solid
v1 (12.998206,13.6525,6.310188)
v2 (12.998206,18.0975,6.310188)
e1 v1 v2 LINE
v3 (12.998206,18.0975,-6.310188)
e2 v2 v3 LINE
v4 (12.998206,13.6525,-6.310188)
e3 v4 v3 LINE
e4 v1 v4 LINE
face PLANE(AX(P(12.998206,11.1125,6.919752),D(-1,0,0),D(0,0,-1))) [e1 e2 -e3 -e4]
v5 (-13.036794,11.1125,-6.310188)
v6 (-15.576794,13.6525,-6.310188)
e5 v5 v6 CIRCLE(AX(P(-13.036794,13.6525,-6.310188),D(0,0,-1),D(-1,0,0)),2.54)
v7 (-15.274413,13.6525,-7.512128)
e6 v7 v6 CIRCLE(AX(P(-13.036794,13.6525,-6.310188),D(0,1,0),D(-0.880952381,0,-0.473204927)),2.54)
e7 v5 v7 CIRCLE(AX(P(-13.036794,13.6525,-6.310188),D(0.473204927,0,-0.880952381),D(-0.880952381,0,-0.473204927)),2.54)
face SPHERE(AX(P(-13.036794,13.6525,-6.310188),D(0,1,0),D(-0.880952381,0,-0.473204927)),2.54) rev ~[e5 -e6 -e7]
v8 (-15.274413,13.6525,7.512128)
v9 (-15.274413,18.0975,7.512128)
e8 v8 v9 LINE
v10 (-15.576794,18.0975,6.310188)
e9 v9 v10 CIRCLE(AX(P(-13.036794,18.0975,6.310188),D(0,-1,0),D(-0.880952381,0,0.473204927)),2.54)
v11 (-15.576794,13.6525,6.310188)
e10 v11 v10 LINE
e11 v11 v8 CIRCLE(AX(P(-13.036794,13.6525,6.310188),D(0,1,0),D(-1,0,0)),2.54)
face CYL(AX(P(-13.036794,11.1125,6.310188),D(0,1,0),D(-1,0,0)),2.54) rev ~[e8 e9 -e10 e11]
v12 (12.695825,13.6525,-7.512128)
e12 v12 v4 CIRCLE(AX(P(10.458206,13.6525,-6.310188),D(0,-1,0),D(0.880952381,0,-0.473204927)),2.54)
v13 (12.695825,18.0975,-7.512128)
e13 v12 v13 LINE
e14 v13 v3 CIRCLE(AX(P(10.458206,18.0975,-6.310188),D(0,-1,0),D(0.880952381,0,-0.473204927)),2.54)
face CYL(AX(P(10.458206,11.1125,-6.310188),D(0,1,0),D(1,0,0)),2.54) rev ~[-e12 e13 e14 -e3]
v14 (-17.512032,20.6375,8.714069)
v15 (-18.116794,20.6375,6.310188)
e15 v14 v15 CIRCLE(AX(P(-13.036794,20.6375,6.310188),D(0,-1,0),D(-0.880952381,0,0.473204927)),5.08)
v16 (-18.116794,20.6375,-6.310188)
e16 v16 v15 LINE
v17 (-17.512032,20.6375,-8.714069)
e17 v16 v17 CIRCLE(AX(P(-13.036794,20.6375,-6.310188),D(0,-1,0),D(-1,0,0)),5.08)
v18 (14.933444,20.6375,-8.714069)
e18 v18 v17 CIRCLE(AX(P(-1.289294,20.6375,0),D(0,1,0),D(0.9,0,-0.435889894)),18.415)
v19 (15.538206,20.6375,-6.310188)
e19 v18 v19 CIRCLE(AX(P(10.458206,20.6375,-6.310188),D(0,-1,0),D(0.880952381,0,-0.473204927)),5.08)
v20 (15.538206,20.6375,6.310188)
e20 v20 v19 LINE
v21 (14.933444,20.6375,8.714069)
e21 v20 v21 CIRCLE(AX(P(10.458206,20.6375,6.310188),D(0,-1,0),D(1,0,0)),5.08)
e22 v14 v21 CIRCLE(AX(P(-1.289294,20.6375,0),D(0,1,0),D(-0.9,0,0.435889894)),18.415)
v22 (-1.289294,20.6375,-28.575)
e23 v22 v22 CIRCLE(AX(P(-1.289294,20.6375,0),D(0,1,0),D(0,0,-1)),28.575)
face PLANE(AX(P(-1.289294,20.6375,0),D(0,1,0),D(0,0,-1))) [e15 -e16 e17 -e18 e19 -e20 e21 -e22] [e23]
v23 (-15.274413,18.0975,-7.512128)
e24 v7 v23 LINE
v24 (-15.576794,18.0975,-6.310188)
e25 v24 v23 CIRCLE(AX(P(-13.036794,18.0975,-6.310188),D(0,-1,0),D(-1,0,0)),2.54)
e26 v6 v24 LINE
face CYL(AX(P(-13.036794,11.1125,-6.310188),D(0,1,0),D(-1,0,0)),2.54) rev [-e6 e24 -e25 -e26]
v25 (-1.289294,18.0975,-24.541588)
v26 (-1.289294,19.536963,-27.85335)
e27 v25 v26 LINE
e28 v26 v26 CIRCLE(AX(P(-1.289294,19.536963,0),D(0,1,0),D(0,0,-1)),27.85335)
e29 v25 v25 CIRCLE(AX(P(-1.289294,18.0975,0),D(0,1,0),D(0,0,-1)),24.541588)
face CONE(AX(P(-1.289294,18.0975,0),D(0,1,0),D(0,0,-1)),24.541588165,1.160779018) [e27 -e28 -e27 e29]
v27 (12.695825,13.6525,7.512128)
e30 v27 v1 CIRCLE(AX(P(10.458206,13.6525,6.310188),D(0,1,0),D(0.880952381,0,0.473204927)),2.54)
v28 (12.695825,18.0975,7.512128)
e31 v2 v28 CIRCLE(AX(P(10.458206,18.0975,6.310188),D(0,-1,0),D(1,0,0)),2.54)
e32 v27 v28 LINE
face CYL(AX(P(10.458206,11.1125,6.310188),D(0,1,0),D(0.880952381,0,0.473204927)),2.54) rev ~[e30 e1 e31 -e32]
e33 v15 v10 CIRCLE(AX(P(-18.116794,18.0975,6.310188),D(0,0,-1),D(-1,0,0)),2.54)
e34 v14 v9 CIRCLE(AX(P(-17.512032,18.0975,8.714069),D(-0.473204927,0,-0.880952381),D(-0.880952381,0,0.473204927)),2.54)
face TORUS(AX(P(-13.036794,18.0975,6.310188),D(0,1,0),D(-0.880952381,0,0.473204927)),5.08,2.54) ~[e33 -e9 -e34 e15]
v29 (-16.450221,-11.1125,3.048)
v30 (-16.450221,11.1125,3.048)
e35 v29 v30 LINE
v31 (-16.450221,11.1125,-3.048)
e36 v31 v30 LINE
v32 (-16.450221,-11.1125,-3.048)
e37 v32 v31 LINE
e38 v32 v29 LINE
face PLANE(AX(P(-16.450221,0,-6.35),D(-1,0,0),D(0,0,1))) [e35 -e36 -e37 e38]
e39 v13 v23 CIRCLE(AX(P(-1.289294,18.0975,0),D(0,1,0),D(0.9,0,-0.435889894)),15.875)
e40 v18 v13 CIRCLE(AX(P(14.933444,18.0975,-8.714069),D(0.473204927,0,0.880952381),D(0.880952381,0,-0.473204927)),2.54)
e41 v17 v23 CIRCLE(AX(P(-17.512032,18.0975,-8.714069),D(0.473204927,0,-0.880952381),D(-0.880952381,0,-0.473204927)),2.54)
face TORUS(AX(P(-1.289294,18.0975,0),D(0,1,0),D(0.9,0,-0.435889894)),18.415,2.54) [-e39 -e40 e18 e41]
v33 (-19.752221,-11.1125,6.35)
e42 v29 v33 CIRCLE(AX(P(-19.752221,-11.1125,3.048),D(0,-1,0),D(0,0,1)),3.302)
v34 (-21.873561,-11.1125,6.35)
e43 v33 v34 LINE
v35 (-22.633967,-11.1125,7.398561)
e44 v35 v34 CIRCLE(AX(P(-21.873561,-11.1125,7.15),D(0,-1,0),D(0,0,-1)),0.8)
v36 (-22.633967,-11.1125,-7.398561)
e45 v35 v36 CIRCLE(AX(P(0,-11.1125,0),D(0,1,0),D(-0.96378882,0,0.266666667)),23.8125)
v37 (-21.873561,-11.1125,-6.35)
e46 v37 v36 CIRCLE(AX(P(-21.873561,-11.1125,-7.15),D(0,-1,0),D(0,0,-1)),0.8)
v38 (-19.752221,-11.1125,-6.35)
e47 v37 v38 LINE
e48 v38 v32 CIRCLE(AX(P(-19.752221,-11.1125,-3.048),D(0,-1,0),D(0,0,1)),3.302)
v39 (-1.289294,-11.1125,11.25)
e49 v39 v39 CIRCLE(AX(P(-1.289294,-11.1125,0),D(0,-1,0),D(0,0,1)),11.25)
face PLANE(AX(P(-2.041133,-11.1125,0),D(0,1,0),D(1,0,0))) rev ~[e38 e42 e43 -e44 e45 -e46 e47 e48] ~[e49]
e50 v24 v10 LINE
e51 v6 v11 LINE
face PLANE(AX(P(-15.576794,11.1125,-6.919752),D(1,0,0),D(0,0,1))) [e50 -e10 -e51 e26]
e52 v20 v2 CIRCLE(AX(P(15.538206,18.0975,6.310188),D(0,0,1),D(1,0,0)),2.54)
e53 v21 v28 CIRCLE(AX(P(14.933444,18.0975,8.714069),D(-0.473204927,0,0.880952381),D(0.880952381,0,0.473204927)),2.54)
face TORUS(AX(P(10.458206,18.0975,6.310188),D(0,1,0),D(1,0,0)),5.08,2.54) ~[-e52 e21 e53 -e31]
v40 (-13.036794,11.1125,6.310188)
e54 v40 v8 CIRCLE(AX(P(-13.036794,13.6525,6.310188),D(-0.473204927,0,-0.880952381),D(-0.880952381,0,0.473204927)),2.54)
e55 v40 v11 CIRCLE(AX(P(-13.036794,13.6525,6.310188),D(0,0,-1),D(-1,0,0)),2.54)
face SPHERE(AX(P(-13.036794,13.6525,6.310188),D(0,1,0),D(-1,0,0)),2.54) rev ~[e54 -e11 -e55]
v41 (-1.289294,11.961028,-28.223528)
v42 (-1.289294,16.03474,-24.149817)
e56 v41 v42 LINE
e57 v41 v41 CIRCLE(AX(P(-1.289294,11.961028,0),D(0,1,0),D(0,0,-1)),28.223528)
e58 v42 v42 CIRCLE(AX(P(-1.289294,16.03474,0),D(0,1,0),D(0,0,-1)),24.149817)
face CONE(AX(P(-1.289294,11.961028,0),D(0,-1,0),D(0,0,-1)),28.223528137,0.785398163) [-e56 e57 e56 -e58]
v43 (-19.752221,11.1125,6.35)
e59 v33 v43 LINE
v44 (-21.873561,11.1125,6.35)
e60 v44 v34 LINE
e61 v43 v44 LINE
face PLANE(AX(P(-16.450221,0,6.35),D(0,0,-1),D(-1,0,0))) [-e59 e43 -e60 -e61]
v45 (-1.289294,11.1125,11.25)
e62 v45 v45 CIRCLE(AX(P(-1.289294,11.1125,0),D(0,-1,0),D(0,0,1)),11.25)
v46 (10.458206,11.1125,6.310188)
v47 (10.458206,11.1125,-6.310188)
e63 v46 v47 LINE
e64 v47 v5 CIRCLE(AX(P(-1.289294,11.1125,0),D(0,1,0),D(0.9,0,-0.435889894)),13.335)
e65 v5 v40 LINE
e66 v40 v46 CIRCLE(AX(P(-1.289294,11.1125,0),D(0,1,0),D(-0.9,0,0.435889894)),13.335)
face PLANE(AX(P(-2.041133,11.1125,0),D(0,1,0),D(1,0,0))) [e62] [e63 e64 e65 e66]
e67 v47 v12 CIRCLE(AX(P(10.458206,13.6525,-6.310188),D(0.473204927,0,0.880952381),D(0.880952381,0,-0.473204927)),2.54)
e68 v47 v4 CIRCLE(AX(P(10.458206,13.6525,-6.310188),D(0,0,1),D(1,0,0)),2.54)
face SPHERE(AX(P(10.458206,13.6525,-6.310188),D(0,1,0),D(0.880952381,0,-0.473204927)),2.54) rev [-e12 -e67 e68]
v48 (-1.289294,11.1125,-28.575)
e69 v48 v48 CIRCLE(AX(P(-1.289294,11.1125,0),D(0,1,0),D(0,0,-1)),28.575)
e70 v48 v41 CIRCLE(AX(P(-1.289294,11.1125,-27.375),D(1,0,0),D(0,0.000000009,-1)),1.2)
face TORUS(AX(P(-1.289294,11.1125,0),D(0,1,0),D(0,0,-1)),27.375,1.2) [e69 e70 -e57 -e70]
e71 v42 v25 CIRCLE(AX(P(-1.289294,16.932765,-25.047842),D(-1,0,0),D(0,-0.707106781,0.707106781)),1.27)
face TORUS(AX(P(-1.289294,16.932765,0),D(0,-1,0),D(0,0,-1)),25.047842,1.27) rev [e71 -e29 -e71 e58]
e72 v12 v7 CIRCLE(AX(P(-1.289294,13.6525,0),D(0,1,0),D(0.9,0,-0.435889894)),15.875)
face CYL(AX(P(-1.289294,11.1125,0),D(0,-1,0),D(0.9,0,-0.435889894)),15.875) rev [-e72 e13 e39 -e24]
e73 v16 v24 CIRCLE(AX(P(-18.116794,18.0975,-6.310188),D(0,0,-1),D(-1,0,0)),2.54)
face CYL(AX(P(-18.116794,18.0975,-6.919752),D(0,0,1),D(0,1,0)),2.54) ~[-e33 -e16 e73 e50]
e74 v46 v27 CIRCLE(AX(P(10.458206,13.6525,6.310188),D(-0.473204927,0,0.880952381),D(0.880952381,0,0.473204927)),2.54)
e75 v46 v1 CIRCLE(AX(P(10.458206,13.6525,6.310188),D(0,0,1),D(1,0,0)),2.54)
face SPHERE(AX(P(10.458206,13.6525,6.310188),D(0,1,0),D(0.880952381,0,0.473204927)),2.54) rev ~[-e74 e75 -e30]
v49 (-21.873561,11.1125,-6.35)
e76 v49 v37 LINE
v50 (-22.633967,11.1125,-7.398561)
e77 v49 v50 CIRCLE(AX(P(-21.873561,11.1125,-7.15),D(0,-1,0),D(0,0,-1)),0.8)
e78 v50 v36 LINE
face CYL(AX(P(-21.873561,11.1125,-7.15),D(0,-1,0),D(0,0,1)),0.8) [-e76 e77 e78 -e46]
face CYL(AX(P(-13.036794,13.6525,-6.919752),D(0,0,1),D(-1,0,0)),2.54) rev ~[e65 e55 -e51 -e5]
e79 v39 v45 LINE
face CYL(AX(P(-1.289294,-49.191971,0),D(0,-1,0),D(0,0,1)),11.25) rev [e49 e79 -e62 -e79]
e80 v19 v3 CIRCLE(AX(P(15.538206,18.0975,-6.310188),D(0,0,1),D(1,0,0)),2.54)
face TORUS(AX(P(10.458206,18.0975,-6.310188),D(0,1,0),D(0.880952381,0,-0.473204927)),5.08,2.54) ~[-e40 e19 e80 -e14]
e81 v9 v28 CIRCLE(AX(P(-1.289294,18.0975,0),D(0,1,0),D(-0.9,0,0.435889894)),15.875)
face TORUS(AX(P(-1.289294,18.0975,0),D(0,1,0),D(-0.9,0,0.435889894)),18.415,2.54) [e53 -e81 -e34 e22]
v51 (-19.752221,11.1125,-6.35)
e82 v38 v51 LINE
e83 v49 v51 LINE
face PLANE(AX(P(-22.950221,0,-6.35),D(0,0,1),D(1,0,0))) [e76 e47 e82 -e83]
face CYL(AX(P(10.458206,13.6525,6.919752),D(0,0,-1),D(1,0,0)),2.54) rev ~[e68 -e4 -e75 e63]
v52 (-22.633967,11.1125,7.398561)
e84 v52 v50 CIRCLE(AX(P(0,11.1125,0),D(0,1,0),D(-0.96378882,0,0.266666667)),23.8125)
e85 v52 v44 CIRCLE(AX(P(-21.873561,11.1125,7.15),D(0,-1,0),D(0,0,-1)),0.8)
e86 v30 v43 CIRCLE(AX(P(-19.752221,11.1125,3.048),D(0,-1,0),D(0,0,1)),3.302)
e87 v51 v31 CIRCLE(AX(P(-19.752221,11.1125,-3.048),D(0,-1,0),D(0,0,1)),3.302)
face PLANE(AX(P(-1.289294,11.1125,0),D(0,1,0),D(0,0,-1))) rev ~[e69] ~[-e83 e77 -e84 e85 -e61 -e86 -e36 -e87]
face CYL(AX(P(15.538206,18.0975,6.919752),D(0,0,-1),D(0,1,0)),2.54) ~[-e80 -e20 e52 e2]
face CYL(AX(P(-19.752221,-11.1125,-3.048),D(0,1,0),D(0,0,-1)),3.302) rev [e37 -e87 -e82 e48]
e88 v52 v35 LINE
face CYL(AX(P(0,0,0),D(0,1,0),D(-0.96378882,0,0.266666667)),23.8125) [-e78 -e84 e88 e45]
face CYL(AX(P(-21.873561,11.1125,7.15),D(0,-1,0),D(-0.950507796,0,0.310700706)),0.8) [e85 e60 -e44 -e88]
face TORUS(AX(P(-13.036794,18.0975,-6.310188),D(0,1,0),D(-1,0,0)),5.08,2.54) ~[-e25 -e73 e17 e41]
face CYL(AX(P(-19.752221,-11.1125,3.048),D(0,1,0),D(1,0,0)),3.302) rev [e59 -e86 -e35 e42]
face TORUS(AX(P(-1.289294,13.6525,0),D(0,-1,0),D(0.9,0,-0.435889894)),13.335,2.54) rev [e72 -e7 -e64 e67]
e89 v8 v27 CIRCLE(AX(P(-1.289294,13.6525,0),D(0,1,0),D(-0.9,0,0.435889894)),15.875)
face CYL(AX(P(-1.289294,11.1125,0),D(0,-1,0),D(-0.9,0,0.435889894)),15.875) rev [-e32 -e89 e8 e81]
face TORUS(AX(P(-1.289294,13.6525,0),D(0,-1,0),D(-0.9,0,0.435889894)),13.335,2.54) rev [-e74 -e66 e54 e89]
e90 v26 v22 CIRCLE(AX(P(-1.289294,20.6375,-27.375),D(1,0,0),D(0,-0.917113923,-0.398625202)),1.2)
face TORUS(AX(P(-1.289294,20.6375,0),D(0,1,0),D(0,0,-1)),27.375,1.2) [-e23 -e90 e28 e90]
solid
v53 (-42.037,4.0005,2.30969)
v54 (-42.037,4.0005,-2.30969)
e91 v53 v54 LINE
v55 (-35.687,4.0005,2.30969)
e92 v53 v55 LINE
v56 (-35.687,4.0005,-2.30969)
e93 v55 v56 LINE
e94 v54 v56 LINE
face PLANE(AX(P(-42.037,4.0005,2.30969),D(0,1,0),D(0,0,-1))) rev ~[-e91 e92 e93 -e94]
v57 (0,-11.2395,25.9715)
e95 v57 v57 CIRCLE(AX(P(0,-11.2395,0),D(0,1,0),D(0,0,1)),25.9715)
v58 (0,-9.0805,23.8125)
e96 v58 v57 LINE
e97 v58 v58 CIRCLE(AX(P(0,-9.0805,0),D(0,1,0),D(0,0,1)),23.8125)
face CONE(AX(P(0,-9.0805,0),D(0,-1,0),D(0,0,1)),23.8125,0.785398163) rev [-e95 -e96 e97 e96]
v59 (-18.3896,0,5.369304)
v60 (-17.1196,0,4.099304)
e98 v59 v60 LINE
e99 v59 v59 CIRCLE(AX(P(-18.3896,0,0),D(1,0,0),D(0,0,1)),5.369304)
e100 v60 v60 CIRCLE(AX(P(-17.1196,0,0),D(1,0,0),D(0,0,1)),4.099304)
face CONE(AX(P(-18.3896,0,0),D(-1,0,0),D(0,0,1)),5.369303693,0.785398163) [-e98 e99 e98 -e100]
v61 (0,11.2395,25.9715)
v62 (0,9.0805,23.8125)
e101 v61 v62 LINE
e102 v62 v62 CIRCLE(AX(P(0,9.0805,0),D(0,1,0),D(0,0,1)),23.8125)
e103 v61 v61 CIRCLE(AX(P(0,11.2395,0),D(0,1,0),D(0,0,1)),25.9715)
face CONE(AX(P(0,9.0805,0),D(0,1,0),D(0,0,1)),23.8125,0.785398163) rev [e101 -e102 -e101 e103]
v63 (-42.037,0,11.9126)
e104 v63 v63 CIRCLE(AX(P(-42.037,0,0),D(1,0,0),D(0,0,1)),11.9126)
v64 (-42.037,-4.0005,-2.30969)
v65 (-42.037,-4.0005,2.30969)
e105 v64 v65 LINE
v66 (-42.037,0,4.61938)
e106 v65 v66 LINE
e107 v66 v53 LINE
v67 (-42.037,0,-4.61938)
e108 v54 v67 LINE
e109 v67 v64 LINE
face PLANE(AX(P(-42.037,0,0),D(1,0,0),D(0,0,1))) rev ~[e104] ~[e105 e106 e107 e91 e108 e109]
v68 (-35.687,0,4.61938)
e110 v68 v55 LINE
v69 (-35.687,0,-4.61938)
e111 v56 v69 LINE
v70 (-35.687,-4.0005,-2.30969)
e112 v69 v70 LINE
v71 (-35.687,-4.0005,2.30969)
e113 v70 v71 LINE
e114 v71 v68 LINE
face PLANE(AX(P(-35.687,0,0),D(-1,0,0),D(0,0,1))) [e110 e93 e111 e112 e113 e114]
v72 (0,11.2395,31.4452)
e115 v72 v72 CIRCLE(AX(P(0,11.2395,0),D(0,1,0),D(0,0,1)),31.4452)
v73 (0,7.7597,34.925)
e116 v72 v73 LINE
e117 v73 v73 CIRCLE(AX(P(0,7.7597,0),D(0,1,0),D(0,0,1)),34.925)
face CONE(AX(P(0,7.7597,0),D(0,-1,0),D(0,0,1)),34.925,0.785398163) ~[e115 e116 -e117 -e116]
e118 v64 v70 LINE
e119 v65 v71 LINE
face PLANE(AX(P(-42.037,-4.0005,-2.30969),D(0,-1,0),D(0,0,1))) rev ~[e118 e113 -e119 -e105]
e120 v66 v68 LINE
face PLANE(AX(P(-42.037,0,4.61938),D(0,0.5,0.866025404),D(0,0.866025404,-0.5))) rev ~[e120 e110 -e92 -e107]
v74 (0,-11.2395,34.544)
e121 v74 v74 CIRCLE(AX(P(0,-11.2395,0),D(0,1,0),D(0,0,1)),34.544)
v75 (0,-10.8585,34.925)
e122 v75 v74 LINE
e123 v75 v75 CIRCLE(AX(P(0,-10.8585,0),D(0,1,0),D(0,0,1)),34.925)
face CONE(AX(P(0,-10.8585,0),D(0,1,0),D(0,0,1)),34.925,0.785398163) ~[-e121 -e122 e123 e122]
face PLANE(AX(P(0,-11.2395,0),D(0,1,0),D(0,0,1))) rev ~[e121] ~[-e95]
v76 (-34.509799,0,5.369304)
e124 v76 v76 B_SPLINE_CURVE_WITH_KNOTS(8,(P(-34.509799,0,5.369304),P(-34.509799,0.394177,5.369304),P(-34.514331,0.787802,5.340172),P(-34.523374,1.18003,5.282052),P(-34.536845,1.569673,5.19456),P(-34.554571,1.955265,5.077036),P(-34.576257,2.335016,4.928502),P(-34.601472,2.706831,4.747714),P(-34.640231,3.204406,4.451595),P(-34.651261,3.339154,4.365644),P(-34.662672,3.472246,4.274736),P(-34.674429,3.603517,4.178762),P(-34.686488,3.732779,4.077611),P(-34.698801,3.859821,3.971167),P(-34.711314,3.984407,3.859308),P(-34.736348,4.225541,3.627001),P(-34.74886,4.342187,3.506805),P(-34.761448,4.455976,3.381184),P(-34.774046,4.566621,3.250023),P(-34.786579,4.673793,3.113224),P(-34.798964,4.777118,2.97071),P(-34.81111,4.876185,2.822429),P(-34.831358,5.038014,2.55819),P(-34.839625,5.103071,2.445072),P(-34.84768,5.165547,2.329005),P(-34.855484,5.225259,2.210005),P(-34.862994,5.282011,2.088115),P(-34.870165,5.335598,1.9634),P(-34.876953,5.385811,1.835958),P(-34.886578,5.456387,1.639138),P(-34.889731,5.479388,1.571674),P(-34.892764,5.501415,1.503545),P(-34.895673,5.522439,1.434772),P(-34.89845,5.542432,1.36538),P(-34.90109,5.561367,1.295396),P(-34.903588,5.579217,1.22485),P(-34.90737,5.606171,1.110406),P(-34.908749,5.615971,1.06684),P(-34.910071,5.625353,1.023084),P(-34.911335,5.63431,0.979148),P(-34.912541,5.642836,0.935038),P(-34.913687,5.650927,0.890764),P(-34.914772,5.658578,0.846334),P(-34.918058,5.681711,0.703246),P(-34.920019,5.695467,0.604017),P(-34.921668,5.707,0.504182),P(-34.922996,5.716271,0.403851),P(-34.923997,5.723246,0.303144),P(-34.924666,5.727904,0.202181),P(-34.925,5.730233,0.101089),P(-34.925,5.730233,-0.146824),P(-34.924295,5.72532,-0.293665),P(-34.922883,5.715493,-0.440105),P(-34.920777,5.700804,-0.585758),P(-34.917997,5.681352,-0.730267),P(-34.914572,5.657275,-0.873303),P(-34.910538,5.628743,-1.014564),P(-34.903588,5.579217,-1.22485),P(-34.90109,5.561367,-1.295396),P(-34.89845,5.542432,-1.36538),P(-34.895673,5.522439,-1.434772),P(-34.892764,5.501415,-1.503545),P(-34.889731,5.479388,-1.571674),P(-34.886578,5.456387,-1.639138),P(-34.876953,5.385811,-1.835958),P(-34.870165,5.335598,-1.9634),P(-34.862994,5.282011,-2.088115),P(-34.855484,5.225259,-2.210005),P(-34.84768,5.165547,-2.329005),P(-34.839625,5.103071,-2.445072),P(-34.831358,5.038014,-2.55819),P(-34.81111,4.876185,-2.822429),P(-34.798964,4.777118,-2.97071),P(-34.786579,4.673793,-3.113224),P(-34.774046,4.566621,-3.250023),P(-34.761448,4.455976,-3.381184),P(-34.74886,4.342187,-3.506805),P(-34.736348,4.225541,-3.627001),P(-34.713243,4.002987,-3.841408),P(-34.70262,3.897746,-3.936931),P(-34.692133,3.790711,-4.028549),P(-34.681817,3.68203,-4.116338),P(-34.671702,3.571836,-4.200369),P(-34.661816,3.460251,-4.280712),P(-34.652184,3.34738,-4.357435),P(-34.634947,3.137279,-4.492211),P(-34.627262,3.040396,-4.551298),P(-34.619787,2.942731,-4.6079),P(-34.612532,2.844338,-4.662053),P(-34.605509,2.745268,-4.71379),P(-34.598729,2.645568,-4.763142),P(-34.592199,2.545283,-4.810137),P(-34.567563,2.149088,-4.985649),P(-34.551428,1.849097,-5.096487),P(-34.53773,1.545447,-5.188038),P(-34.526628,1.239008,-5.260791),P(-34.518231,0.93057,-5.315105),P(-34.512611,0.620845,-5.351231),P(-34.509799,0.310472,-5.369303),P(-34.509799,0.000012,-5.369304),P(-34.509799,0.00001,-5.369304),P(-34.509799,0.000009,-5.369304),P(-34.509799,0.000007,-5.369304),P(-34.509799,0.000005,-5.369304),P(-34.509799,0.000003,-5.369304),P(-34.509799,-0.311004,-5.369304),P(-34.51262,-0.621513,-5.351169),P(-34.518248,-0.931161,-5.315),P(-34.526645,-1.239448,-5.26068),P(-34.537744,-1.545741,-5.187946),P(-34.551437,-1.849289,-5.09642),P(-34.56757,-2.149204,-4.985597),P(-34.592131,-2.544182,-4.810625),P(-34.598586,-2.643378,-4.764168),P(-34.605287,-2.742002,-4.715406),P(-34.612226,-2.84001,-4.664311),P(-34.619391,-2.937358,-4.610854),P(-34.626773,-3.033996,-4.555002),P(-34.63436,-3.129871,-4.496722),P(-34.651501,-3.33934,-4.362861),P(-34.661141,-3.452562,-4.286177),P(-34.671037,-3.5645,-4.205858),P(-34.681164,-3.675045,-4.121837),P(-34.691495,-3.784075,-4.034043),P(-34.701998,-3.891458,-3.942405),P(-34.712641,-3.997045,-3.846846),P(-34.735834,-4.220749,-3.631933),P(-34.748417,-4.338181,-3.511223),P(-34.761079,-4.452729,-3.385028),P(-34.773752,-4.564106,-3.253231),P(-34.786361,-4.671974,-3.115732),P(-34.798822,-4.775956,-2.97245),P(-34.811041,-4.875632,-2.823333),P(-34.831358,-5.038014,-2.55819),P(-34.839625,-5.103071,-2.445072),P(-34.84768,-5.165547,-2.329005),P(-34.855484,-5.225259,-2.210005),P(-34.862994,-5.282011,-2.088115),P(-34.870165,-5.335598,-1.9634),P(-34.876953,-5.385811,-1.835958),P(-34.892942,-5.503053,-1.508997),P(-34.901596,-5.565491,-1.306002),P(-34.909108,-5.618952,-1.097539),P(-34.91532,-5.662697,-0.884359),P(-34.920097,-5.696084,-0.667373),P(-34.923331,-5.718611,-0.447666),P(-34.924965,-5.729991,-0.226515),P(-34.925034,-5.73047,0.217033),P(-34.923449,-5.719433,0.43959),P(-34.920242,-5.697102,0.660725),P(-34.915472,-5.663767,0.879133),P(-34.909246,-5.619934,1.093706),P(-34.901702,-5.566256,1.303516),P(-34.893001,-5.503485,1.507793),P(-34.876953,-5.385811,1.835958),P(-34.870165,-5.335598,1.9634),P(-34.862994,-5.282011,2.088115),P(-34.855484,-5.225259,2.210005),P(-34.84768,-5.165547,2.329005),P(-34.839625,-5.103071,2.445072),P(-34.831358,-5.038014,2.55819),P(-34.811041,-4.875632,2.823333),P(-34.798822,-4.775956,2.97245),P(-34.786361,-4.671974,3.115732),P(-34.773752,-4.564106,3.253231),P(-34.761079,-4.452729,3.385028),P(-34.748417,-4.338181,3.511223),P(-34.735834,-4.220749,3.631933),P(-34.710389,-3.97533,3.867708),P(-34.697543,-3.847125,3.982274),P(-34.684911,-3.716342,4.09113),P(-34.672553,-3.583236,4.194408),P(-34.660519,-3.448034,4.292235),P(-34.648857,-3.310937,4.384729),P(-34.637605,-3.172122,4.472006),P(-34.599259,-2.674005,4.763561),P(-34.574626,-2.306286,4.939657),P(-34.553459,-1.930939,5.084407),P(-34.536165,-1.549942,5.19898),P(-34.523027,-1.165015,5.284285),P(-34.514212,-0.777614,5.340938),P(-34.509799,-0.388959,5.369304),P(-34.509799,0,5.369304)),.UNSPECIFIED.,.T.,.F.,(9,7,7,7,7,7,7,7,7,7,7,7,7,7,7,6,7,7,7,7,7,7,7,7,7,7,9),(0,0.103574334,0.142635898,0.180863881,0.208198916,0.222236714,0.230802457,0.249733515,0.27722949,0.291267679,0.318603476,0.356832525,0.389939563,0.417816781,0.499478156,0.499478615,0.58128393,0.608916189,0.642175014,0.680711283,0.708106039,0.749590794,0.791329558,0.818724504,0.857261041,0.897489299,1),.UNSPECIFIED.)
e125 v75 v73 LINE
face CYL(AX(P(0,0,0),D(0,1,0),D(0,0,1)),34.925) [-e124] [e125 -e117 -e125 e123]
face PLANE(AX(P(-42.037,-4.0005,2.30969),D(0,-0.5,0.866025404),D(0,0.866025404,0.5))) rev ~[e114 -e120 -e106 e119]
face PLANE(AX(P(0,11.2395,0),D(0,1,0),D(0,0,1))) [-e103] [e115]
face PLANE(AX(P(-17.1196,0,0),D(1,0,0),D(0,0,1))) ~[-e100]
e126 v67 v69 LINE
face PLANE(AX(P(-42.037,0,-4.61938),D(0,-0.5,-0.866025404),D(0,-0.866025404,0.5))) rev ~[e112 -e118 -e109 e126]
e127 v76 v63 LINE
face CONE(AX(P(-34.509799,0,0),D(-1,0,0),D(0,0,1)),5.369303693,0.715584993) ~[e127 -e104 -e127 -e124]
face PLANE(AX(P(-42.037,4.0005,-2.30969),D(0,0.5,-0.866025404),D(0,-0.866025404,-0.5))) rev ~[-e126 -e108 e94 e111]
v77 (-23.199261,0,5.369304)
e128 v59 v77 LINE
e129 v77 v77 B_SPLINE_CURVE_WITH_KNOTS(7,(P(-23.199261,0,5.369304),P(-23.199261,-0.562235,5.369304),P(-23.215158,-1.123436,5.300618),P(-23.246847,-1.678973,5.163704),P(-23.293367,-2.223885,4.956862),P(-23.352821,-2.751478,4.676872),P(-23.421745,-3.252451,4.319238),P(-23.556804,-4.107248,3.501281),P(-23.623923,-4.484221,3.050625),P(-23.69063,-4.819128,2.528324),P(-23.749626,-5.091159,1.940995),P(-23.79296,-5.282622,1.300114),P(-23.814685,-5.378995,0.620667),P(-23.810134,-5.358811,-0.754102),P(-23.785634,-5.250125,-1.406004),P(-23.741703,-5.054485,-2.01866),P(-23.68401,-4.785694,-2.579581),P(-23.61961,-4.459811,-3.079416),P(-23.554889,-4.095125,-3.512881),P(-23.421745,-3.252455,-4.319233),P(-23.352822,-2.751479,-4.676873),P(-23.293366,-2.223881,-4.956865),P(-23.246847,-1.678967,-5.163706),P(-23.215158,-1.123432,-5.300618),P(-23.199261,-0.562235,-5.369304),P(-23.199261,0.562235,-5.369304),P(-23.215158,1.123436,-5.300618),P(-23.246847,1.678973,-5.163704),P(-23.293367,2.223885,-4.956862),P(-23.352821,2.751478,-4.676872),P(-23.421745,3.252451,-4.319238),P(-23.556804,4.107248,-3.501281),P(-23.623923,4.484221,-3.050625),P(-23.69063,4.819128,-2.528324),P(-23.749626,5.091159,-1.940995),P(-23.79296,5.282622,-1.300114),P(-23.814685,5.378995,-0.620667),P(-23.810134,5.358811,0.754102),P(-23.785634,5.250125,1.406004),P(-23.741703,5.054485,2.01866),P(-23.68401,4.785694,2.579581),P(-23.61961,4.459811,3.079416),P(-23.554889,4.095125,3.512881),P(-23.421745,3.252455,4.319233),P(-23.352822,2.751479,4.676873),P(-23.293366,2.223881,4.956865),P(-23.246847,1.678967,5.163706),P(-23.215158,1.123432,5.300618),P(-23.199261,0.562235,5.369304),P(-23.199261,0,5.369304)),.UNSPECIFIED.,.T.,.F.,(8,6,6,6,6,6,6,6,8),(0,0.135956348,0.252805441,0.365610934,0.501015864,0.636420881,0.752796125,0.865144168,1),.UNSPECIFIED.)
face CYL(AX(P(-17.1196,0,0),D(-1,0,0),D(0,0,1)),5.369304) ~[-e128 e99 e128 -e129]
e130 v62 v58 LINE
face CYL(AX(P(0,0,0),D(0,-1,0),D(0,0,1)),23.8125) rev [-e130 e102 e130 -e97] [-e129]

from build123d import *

# Parameters (mm, degrees)
SKETCH1_R               = 34.925
SKETCH1_R_2             = 23.8125
BOSS_EXTRUDE1_DEPTH     = 11.2395
CHAMFER1_SIZE           = 2.159
CHAMFER2_SIZE           = 3.4798000000000004
CHAMFER3_SIZE           = 0.381
CHAMFER4_SIZE           = 1.27
BOSS_EXTRUDE2_DEPTH     = 11.112499999999999
CUT_EXTRUDE1_DEPTH      = 60.304470691571126
CUT_EXTRUDE1_DEPTH_BACK = 60.304470691571126
SKETCH4_R               = 11.25000000000001
FILLET1_R               = 3.3019999999999996
CUT_EXTRUDE3_DEPTH      = 6.35
SKETCH7_R               = 28.575000000000006
BOSS_EXTRUDE3_DEPTH     = 9.525
FILLET2_R               = 2.54
FILLET3_R               = 0.8


with BuildPart() as part:
    # Sketch1 → Boss-Extrude1 (new, symmetric)
    with BuildSketch(Plane(origin=(0, 0, 0), x_dir=(1, 0, 0), z_dir=(0, 1, 0))):
        Circle(SKETCH1_R)
        Circle(SKETCH1_R_2, mode=Mode.SUBTRACT)
    extrude(amount=BOSS_EXTRUDE1_DEPTH, both=True)

    # Chamfer1
    chamfer1_edges = [part.edges().sort_by_distance(p)[0] for p in [
        (-23.8125, -11.2395, -2.92e-15),
        (-23.8125, 11.2395, -2.92e-15),
    ]]
    chamfer(chamfer1_edges, length=CHAMFER1_SIZE)

    # Chamfer2
    chamfer2_edges = [part.edges().sort_by_distance(p)[0] for p in [
        (-34.925, 11.2395, -4.28e-15),
    ]]
    chamfer(chamfer2_edges, length=CHAMFER2_SIZE)

    # Chamfer3
    chamfer3_edges = [part.edges().sort_by_distance(p)[0] for p in [
        (-34.925, -11.2395, -4.28e-15),
    ]]
    chamfer(chamfer3_edges, length=CHAMFER3_SIZE)

    # Sketch2 → Revolve1 (revolve)
    with BuildSketch(Plane(origin=(0, 0, 0), x_dir=(1, 0, 0), z_dir=(0, 1, 0))):
        Polygon((-42.03699999999999, 11.9126), (-42.03699999999999, 0), (-17.11959999999999, 0), (-17.11959999999999, 5.369303693380148), (-34.5097986497785, 5.369303693380146), align=None)
    revolve(axis=Axis((-42.03699999999999, 0, 0), (1, 0, 0)))

    # Chamfer4
    chamfer4_edges = [part.edges().sort_by_distance(p)[0] for p in [
        (-17.11959999999999, -1.73e-15, 5.369303693380148),
    ]]
    chamfer(chamfer4_edges, length=CHAMFER4_SIZE)

    # Sketch6 → Cut-Extrude3 (cut)
    with BuildSketch(Plane.ZY.offset(42.03699999999999)):
        Polygon((-4.619379503786196, 1.7e-15), (-2.3096897518931003, -4.000500000000001), (2.3096897518930977, -4.000499999999999), (4.619379503786196, 2.98e-15), (2.3096897518931, 4.000500000000001), (-2.3096897518930986, 4.0005000000000015), align=None)
    extrude(amount=-CUT_EXTRUDE3_DEPTH, mode=Mode.SUBTRACT)


with BuildPart() as body_2:
    # Sketch3 → Boss-Extrude2 (new, symmetric)
    with BuildSketch(Plane(origin=(0, 0, 0), x_dir=(1, 0, 0), z_dir=(0, 1, 0))):
        with BuildLine():
            Line((-22.950221267996525, 6.350000000000001), (-16.450221267996525, 6.350000000000001))
            Line((-16.450221267996525, 6.350000000000001), (-16.450221267996525, -6.349999999999998))
            Line((-16.450221267996525, -6.349999999999998), (-22.950221267996525, -6.350000000000001))
            ThreePointArc((-22.950221267996525, -6.350000000000001), (23.8125, 0), (-22.950221267996525, 6.350000000000001))
        make_face()
    extrude(amount=BOSS_EXTRUDE2_DEPTH, both=True)

    # Sketch4 → Cut-Extrude1 (cut, two sides: drawn at the far end of the back side and taken through both)
    with BuildSketch(Plane(origin=(0, 11.112499999999999, 0), x_dir=(1, 0, 0), z_dir=(0, 1, 0)).offset(-CUT_EXTRUDE1_DEPTH_BACK)):
        with Locations((-1.28929384, 0)):
            Circle(SKETCH4_R)
    extrude(amount=CUT_EXTRUDE1_DEPTH + CUT_EXTRUDE1_DEPTH_BACK, mode=Mode.SUBTRACT)

    # Fillet1
    fillet1_edges = [body_2.edges().sort_by_distance(p)[0] for p in [
        (-16.450221267996525, 0, 6.349999999999998),
        (-16.450221267996525, 0, -6.350000000000001),
    ]]
    fillet(fillet1_edges, radius=FILLET1_R)

    # Sketch7 → Boss-Extrude3 (add)
    with BuildSketch(Plane(origin=(0, 11.112499999999999, 0), x_dir=(1, 0, 0), z_dir=(0, 1, 0))):
        with Locations((-1.28929384, 0)):
            Circle(SKETCH7_R)
        with BuildLine():
            Line((-15.57679384, 6.919752072870816), (-15.57679384, -6.919752072870816))
            ThreePointArc((-15.57679384, -6.919752072870816), (-1.2892938400000025, -15.875), (12.998206159999999, -6.919752072870816))
            Line((12.998206159999999, -6.919752072870816), (12.998206159999999, 6.919752072870816))
            ThreePointArc((12.998206159999999, 6.919752072870816), (-1.2892938400000025, 15.874999999999996), (-15.57679384, 6.919752072870816))
        make_face(mode=Mode.SUBTRACT)
    extrude(amount=BOSS_EXTRUDE3_DEPTH)

    # Fillet2
    fillet2_edges = [body_2.edges().sort_by_distance(p)[0] for p in [
        (12.998206159999999, 20.6375, 0),
        (12.998206159999999, 11.112499999999999, 0),
        (12.998206159999999, 15.875, 6.919752072870814),
        (-1.2892938399999991, 20.6375, 15.875),
        (-1.2892938399999991, 11.112499999999999, 15.875),
        (-15.57679384, 15.875, 6.919752072870816),
        (-15.57679384, 20.6375, 0),
        (-15.57679384, 11.112499999999999, 0),
        (-15.57679384, 15.875, -6.919752072870815),
        (-1.2892938400000014, 20.6375, -15.874999999999996),
        (12.998206159999999, 15.875, -6.919752072870816),
        (-1.2892938400000014, 11.112499999999999, -15.874999999999996),
    ]]
    fillet(fillet2_edges, radius=FILLET2_R)

    # Sketch9 → Cut-Revolve1 (revolve, cut)
    with BuildSketch(Plane.XY):
        with BuildLine():
            Line((-29.864293840000006, 20.6375), (-29.864293840000006, 11.112499999999999))
            ThreePointArc((-29.864293840000006, 11.112499999999999), (-29.77294927700148, 11.571720113180088), (-29.51282197742386, 11.96102812690827))
            Line((-29.51282197742386, 11.96102812690827), (-25.439110399046303, 16.034739705285816))
            ThreePointArc((-25.439110399046303, 16.034739705285816), (-25.089440006432948, 17.169735104085216), (-25.830882004619195, 18.0975))
            Line((-25.830882004619195, 18.0975), (-29.14264408239436, 19.536963292024634))
            ThreePointArc((-29.14264408239436, 19.536963292024634), (-29.667792791387903, 19.979480353968526), (-29.864293840000006, 20.6375))
        make_face()
    revolve(axis=Axis((-1.28929384, 9.73306284018895, 0), (0, 1, 0)), mode=Mode.SUBTRACT)

    # Fillet3
    fillet3_edges = [body_2.edges().sort_by_distance(p)[0] for p in [
        (-22.950221267996525, 0, -6.350000000000003),
        (-22.950221267996525, 0, 6.350000000000001),
    ]]
    fillet(fillet3_edges, radius=FILLET3_R)


solid = Compound([part.part, body_2.part])
